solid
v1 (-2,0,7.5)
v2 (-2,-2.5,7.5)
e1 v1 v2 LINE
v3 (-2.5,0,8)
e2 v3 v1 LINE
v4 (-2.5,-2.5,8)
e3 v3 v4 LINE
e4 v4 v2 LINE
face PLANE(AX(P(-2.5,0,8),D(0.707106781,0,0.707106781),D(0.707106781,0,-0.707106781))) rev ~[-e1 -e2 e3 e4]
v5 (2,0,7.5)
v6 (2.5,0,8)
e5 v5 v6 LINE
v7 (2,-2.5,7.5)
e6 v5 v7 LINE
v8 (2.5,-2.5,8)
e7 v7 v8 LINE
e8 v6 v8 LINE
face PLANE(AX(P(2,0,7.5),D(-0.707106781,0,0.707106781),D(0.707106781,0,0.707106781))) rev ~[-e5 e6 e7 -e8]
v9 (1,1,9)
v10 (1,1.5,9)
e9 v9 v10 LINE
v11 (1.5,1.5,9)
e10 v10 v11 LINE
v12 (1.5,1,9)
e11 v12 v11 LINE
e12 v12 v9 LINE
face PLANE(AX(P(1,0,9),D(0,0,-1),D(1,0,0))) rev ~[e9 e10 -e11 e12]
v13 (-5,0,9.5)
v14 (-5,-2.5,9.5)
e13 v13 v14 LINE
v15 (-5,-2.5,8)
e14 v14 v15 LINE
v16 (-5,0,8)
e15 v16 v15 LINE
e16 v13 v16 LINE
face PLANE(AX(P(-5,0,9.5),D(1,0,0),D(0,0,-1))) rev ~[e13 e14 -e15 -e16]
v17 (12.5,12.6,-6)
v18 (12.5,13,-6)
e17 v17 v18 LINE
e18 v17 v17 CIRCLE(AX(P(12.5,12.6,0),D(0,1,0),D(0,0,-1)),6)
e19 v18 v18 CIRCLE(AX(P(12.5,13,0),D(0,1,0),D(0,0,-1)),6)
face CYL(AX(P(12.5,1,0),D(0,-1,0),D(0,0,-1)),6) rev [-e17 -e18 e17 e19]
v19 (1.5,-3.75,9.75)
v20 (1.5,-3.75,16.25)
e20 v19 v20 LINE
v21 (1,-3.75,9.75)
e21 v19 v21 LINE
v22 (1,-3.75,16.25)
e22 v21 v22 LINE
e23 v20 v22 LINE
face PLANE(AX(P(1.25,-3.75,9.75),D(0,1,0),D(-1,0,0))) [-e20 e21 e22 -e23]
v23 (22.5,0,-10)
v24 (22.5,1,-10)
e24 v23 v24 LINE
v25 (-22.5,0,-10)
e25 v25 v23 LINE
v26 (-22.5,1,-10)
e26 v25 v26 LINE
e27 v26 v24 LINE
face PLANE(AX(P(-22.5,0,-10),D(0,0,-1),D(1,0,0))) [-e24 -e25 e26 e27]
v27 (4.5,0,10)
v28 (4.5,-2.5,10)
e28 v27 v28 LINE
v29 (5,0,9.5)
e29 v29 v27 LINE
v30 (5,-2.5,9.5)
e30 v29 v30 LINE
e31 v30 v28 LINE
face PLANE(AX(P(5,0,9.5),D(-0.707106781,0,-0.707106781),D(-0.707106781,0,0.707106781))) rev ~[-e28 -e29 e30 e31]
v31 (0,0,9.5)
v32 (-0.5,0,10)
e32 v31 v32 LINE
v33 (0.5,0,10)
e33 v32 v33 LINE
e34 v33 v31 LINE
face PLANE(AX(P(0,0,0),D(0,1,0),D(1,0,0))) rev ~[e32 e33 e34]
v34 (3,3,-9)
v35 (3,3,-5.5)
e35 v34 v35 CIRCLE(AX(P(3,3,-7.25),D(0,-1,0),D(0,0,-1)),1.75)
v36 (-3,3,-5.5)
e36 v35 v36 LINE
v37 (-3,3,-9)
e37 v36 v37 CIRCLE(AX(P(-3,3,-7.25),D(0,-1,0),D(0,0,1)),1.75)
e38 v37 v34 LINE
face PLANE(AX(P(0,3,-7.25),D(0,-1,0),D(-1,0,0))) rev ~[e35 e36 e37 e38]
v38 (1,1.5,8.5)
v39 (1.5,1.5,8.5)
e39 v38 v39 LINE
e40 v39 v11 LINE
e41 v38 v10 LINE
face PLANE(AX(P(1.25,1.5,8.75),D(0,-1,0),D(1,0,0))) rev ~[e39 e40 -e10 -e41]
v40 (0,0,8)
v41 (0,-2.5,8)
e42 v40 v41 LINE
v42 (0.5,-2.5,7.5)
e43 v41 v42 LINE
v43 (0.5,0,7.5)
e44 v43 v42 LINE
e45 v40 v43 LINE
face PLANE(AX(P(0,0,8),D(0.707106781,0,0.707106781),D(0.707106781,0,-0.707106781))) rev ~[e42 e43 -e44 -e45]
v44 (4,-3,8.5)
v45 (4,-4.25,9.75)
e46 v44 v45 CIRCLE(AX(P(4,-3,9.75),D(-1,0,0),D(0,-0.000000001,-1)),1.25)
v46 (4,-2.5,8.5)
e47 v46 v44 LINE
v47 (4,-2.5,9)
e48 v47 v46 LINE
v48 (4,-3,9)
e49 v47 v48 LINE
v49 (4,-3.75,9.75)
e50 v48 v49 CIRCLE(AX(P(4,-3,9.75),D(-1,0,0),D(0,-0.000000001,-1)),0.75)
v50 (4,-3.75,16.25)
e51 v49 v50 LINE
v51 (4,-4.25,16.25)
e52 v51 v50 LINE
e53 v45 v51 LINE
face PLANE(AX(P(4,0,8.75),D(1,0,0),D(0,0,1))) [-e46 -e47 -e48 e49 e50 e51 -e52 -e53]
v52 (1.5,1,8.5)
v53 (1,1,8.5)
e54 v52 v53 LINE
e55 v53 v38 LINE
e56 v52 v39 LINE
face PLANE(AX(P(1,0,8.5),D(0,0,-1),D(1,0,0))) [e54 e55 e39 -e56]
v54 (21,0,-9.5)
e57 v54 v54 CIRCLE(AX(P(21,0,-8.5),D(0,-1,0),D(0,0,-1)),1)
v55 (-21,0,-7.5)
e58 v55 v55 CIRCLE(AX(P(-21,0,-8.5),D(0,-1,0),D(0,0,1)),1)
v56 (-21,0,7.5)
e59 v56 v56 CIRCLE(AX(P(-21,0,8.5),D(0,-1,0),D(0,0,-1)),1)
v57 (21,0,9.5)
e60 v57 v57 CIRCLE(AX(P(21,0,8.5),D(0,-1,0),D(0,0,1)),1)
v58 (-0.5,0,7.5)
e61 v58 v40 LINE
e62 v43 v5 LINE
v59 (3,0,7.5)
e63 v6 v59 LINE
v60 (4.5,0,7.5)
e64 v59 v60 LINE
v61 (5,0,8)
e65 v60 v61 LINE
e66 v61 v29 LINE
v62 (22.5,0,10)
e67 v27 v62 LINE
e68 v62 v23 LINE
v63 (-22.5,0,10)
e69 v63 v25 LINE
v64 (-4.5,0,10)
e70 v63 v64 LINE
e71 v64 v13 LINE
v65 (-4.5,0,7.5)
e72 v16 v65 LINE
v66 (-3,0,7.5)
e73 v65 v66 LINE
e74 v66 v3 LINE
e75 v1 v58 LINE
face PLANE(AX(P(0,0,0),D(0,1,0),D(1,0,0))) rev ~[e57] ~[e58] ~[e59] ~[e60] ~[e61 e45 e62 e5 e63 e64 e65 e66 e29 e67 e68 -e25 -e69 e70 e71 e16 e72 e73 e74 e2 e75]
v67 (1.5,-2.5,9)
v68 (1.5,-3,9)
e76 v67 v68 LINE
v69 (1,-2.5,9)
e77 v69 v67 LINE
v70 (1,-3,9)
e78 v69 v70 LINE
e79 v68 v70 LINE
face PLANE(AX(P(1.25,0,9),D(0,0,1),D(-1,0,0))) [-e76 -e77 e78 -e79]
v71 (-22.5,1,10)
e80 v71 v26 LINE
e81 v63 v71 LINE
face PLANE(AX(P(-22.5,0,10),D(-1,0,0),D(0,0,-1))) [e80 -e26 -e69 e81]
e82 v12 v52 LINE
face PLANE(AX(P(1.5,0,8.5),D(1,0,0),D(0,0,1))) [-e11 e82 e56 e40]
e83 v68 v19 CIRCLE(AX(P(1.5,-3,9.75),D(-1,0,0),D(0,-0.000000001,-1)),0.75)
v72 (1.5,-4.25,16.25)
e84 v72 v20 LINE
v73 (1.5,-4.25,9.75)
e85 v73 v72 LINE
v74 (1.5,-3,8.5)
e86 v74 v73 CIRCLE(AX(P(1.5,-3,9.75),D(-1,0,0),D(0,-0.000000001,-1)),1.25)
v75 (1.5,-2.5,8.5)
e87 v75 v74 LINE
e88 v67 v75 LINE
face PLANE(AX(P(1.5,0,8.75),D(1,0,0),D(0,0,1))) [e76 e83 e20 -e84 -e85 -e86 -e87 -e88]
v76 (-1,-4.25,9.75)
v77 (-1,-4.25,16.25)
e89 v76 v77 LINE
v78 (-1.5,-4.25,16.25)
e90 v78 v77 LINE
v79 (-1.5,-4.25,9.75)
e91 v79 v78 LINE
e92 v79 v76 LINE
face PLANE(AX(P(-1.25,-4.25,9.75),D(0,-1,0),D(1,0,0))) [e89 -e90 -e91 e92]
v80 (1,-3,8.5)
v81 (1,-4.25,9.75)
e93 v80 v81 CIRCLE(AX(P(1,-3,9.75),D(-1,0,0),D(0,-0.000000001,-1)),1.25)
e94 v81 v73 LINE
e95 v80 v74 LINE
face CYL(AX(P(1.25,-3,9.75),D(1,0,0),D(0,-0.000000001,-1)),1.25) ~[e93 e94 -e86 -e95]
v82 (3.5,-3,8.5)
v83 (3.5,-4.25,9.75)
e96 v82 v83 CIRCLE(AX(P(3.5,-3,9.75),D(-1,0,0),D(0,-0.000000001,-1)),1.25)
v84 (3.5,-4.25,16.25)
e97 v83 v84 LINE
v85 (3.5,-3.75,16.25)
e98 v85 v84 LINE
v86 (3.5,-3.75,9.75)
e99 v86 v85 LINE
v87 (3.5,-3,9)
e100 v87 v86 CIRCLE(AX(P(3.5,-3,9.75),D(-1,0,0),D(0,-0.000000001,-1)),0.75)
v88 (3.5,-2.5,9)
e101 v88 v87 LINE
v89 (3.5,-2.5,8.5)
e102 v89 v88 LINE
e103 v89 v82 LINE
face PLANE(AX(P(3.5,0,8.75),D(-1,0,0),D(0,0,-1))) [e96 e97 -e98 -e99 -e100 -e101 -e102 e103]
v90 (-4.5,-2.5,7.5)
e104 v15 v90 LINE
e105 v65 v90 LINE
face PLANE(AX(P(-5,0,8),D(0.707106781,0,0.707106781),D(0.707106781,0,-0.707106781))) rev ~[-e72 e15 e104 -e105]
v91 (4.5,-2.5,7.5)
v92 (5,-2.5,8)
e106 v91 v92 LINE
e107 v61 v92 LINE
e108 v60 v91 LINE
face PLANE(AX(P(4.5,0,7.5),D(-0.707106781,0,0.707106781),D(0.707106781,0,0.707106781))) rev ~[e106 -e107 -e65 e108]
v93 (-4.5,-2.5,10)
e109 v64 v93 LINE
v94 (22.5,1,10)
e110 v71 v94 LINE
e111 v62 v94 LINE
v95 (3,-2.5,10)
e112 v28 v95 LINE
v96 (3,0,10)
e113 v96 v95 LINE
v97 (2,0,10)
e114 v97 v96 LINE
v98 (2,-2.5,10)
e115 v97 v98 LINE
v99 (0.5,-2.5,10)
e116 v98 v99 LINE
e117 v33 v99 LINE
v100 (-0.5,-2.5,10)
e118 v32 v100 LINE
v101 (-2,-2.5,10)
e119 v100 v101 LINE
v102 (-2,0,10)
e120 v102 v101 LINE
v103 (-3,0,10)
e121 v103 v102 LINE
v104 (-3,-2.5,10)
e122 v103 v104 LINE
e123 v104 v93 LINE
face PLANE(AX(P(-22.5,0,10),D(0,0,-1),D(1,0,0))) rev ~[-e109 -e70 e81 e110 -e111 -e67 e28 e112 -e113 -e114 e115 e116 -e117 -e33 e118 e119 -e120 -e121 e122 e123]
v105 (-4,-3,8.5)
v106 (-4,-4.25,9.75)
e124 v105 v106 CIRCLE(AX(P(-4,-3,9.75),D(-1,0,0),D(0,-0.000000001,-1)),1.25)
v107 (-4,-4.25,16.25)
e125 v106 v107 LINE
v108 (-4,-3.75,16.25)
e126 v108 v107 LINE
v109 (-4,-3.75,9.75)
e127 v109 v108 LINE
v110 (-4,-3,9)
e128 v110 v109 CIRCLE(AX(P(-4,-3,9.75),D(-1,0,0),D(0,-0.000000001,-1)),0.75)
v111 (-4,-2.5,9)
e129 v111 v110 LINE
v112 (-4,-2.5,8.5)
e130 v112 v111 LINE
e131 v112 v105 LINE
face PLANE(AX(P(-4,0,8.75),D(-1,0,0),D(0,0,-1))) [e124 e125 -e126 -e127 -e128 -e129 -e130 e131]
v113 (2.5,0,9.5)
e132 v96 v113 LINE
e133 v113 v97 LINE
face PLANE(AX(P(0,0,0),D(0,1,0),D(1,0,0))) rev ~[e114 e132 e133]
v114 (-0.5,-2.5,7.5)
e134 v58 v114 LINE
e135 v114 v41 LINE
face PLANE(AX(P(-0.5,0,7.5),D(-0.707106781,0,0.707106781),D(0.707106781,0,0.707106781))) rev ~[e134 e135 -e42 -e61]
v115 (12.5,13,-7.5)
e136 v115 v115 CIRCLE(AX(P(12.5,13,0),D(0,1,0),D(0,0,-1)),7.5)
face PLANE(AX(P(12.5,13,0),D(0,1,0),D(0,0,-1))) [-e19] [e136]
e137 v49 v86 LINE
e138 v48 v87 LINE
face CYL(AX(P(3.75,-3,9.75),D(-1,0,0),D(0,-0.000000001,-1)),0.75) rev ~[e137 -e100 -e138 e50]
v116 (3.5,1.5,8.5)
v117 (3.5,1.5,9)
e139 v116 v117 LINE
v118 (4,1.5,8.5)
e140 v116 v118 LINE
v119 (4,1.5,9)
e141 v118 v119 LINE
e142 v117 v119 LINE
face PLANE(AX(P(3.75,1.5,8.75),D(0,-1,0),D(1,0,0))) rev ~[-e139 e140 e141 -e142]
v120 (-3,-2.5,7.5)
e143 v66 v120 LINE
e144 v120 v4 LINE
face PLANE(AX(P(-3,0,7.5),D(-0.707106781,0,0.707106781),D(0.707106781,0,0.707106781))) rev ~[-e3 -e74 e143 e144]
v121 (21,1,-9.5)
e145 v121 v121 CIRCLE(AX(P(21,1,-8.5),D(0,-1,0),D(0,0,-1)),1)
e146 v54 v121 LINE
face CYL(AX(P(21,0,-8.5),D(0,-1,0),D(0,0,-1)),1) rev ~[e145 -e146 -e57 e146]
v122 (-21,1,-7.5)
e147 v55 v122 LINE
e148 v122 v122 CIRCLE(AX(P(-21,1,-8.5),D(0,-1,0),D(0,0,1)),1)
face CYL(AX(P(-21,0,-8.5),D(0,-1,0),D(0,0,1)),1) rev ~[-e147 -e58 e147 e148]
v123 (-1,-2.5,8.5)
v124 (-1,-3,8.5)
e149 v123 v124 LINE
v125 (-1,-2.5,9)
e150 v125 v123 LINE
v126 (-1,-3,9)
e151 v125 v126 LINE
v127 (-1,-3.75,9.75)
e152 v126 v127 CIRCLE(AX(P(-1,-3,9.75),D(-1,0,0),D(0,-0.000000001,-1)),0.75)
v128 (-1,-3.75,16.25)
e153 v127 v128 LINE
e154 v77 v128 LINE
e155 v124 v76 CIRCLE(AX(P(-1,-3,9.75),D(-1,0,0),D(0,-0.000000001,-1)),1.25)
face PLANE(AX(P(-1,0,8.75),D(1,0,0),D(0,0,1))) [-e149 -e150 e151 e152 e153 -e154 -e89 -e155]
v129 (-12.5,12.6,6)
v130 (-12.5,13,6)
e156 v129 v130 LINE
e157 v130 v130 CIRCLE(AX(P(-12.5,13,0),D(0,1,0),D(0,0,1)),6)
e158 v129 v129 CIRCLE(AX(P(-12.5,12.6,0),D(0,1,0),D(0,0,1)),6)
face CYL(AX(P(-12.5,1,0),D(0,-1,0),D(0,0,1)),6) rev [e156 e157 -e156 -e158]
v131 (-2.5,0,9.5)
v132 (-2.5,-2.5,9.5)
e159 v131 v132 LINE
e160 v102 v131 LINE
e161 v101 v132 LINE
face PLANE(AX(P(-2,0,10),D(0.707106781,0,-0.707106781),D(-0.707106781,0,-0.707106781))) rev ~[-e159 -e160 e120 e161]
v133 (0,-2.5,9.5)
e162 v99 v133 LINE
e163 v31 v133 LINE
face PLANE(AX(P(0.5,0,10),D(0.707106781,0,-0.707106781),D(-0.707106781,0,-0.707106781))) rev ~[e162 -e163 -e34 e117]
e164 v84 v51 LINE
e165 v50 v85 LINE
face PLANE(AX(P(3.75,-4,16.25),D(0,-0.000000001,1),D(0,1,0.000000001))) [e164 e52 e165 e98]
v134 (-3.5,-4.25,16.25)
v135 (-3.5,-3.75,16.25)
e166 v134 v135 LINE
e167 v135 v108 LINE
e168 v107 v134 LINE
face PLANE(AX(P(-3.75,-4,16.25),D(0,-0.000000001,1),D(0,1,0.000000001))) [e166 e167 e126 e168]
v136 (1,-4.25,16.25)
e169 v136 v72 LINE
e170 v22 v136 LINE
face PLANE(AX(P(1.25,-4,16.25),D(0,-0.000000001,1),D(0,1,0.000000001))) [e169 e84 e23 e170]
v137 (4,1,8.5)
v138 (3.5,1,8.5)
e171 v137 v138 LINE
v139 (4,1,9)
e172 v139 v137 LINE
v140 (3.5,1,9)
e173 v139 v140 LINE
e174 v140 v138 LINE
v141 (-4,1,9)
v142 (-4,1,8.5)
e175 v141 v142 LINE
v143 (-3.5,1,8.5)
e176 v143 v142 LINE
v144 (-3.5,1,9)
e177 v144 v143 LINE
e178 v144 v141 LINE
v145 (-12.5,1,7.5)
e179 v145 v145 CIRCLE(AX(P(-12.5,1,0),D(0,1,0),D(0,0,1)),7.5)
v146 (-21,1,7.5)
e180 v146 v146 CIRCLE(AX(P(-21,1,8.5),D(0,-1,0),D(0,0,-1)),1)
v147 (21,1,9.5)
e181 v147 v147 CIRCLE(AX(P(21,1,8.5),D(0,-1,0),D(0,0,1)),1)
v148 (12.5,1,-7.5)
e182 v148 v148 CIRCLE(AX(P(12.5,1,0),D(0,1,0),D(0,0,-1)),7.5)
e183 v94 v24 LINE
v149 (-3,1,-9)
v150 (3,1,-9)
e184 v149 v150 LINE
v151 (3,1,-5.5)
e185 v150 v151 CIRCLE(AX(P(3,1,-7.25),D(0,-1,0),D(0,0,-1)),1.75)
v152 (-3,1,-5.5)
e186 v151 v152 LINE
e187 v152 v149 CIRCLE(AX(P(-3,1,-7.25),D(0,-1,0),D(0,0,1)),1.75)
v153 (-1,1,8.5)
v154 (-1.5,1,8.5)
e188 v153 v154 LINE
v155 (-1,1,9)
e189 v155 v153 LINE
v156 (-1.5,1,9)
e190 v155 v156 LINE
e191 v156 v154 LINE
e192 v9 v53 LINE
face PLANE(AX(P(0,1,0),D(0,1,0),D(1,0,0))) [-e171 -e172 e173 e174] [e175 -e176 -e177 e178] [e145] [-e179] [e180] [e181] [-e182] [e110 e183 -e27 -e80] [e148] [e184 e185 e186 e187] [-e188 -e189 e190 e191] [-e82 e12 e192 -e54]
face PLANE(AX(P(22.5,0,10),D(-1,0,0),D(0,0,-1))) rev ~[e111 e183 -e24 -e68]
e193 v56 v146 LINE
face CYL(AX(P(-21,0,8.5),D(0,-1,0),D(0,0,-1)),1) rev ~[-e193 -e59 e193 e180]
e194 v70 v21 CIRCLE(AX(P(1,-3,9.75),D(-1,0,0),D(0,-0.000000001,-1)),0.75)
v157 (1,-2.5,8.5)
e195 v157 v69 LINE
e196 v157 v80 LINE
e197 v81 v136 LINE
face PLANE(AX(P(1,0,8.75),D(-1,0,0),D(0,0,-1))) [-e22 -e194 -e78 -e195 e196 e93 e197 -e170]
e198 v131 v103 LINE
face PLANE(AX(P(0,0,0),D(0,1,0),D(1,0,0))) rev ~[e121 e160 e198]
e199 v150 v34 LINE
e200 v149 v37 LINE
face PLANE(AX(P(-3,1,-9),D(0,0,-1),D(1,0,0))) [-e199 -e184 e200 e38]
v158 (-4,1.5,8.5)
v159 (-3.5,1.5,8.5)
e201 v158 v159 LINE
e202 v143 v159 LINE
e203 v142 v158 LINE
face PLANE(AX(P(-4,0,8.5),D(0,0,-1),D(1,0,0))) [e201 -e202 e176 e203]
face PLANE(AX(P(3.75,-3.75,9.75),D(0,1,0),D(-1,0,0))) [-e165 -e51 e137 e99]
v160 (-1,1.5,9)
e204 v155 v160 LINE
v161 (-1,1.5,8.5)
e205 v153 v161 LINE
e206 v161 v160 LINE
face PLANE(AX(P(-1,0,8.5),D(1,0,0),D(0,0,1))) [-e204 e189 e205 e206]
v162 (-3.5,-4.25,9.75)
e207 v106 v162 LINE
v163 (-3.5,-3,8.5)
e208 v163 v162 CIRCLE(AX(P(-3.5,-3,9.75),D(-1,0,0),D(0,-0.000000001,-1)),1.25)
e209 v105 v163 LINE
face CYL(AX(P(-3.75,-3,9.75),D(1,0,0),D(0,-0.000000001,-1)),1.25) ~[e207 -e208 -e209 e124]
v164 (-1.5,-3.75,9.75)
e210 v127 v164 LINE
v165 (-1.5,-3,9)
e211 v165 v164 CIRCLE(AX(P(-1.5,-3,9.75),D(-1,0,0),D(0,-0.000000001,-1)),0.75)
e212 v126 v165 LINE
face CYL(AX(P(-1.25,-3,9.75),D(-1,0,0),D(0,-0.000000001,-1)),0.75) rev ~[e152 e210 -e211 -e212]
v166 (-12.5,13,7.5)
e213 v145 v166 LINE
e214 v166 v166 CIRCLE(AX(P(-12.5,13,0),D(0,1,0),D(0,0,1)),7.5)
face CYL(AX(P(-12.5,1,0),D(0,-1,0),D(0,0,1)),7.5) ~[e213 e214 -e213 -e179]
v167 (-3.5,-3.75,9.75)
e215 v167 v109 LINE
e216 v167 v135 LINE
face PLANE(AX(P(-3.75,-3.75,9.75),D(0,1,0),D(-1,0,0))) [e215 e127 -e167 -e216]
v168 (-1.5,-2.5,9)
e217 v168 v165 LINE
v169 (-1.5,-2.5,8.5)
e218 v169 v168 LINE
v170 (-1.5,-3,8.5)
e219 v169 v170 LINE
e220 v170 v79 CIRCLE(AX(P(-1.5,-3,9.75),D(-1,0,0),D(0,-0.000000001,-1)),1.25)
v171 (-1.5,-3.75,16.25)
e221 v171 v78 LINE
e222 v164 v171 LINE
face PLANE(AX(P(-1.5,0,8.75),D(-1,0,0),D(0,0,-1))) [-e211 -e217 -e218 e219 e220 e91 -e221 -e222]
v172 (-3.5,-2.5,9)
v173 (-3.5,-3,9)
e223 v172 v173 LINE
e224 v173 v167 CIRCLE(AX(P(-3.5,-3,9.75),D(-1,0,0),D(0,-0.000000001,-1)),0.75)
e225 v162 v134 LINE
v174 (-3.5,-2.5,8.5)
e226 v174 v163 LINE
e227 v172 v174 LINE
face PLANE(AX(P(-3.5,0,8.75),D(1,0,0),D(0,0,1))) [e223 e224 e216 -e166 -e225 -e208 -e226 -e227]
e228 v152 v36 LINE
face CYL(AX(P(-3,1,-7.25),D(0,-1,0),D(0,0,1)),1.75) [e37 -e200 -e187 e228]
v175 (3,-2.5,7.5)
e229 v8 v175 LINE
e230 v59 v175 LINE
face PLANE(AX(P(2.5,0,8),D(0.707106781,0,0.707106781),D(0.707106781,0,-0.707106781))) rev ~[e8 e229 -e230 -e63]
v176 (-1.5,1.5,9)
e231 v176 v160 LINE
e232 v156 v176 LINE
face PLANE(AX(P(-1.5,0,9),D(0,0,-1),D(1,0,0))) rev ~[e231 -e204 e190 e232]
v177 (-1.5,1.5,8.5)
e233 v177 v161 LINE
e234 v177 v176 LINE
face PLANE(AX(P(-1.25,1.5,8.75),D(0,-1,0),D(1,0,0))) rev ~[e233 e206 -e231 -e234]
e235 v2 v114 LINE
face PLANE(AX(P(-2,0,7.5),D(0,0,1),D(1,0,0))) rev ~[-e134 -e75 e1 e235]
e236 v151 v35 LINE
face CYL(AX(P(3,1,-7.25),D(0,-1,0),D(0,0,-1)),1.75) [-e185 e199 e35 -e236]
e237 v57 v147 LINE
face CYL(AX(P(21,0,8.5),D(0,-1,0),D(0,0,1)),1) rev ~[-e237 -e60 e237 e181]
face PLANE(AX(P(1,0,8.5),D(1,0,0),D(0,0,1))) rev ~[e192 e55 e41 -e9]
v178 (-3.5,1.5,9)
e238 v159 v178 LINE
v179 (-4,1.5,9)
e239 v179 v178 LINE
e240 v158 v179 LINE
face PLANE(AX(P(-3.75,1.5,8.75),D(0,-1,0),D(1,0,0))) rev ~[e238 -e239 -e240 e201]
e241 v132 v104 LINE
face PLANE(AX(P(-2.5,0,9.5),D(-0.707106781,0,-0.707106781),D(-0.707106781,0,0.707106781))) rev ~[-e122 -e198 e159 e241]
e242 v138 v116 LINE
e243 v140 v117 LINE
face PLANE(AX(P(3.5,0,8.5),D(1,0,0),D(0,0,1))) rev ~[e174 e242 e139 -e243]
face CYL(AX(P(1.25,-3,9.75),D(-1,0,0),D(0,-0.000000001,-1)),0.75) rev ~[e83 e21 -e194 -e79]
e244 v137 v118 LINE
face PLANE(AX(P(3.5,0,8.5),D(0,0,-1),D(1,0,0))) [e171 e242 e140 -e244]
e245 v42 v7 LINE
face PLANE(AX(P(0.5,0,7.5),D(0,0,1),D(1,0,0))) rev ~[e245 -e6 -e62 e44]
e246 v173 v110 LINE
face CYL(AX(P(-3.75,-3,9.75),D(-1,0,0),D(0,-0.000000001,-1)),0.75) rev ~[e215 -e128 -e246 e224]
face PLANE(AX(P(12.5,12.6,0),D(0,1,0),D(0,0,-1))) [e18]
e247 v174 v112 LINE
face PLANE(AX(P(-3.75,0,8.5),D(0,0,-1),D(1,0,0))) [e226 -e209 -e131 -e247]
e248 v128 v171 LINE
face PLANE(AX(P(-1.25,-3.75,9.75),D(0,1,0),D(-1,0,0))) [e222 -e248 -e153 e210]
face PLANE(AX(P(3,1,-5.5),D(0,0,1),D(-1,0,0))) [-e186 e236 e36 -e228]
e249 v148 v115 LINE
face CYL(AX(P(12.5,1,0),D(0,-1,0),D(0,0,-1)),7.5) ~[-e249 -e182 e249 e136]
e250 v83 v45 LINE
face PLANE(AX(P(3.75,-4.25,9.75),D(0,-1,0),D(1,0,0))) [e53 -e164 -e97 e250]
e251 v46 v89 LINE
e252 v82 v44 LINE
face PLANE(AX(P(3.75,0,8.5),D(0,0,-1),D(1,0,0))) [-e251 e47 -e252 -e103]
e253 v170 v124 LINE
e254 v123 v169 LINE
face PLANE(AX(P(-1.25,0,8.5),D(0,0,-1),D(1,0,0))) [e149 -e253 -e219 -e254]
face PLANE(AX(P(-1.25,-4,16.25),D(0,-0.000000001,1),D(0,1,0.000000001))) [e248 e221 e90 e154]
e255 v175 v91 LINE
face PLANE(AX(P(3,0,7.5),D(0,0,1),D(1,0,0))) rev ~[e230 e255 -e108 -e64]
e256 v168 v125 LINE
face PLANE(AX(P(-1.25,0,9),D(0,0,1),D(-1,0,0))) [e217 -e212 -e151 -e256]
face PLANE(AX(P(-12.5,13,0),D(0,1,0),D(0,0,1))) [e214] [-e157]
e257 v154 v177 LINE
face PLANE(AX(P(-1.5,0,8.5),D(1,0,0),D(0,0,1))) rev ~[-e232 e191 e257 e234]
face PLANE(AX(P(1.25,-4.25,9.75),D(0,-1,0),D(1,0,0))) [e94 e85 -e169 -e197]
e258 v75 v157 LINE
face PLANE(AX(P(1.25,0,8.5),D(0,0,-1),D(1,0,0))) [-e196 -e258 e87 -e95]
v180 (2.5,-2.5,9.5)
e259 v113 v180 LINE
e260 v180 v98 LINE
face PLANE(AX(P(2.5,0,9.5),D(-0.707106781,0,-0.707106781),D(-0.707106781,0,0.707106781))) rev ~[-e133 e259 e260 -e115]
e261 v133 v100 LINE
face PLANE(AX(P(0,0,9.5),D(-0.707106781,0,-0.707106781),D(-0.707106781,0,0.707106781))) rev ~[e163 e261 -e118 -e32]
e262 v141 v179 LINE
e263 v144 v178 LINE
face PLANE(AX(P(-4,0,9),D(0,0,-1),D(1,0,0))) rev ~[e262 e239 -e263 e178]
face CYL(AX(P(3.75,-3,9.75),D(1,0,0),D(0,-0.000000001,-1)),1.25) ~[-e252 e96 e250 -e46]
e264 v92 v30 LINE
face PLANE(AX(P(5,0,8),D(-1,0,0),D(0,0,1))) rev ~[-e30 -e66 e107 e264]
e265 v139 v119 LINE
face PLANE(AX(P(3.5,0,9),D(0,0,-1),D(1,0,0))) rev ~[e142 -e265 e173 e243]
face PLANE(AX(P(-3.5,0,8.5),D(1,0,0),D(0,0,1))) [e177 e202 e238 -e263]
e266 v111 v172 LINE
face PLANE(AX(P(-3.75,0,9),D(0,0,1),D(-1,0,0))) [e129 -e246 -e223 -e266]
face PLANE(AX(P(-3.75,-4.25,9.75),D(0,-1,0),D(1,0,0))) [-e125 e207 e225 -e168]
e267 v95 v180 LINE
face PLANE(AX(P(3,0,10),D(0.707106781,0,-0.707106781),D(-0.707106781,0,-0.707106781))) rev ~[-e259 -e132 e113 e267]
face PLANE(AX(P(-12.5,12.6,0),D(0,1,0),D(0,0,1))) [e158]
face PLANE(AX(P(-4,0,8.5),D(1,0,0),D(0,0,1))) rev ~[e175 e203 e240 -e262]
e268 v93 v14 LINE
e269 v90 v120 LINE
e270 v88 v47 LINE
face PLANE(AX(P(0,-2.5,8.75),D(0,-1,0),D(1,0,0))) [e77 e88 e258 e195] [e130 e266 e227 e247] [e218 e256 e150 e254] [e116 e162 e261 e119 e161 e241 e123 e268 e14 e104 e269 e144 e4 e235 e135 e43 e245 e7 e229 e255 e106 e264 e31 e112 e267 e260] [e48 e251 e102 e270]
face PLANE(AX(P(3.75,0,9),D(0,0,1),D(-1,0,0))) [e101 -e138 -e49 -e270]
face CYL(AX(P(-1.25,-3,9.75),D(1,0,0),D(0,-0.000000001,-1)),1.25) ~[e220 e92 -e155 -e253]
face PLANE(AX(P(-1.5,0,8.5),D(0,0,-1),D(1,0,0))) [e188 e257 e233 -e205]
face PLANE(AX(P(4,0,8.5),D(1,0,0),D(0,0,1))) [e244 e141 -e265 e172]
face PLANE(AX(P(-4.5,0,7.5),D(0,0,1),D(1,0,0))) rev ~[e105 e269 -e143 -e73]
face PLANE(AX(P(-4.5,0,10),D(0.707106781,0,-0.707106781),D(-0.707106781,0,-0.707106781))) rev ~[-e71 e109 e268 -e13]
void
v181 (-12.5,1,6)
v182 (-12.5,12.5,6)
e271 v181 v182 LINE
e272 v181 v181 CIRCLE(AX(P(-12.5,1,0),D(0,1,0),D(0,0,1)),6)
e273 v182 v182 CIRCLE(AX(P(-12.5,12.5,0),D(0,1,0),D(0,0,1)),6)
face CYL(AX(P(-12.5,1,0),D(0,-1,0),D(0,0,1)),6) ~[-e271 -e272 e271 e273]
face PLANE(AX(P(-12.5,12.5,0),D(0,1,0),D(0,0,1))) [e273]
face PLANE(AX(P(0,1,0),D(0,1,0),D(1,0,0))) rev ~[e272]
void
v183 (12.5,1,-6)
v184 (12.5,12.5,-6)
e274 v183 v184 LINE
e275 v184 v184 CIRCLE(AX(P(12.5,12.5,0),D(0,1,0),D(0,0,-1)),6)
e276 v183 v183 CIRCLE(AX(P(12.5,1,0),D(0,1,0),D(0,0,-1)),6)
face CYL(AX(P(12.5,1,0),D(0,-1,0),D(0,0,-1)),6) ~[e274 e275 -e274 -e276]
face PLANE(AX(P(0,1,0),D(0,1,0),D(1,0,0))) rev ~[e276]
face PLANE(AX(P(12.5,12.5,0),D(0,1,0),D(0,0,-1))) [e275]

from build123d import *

# Parameters (mm, degrees)
SKETCH1_W           = 45
SKETCH1_H           = 20
BOSS_EXTRUDE1_DEPTH = 1
SKETCH2_R           = 7.5
SKETCH2_R_2         = 6
BOSS_EXTRUDE2_DEPTH = 12
BOSS_EXTRUDE3_DEPTH = 2
BOSS_EXTRUDE4_START = -0.5
SKETCH4_R           = 6
BOSS_EXTRUDE4_DEPTH = 0.1
SKETCH9_W           = 0.5
SKETCH9_H           = 0.5
SKETCH9_2_W         = 0.5
SKETCH9_2_H         = 0.5
BOSS_EXTRUDE7_DEPTH = 1.5
LPATTERN5_COUNT     = 4
LPATTERN5_PITCH     = 2.5
BOSS_EXTRUDE6_DEPTH = 2.5
SKETCH12_R          = 1
CUT_EXTRUDE4_DEPTH  = 1.5


with BuildPart() as part:
    # Sketch1 → Boss-Extrude1 (new body)
    with BuildSketch(Plane(origin=(0, 0, 0), x_dir=(1, 0, 0), z_dir=(0, 1, 0))):
        Rectangle(SKETCH1_W, SKETCH1_H)
    extrude(amount=BOSS_EXTRUDE1_DEPTH)

    # Sketch2 → Boss-Extrude2 (add)
    # profile 1 of 2: a face of its own
    with BuildSketch(Plane(origin=(0, 1, 0), x_dir=(1, 0, 0), z_dir=(0, 1, 0))):
        with Locations(Location((-12.5, 0, 0), (0, 0, 270))):
            Circle(SKETCH2_R)
        with Locations(Location((-12.5, 0, 0), (0, 0, 270))):
            Circle(SKETCH2_R_2, mode=Mode.SUBTRACT)
    # profile 2 of 2: a face of its own
    with BuildSketch(Plane(origin=(0, 1, 0), x_dir=(1, 0, 0), z_dir=(0, 1, 0))):
        with Locations(Location((12.5, 0, 0), (0, 0, 90))):
            Circle(SKETCH2_R)
        with Locations(Location((12.5, 0, 0), (0, 0, 90))):
            Circle(SKETCH2_R_2, mode=Mode.SUBTRACT)
    extrude(amount=BOSS_EXTRUDE2_DEPTH)

    # Sketch3 → Boss-Extrude3 (add)
    with BuildSketch(Plane(origin=(0, 1, 0), x_dir=(1, 0, 0), z_dir=(0, 1, 0))):
        with BuildLine():
            Line((-3, 9), (3, 9))
            ThreePointArc((3, 9), (4.75, 7.25), (3, 5.5))
            Line((3, 5.5), (-3, 5.5))
            ThreePointArc((-3, 5.5), (-4.75, 7.25), (-3, 9))
        make_face()
    extrude(amount=BOSS_EXTRUDE3_DEPTH)

    # Sketch4 → Boss-Extrude4 (add)
    with BuildSketch(Plane(origin=(0, 13, 0), x_dir=(1, 0, 0), z_dir=(0, 1, 0)).offset(BOSS_EXTRUDE4_START)):
        with Locations(Location((-12.5, 0, 0), (0, 0, 270))):
            Circle(SKETCH4_R)
        with Locations(Location((12.5, 0, 0), (0, 0, 90))):
            Circle(SKETCH4_R)
    extrude(amount=BOSS_EXTRUDE4_DEPTH)

    # Sweep1: sweep along a path in Sketch8
    with BuildLine(Plane(origin=(3.75, 0, 0), x_dir=(0, 0, -1), z_dir=(1, 0, 0))) as sweep1_path:
        Line((-8.75, 0), (-8.75, -3))
        ThreePointArc((-8.75, -3), (-9.042893219, -3.707106781), (-9.75, -4))
        Line((-9.75, -4), (-16.25, -4))
    # Sketch9 → Sweep1 (sweep)
    with BuildSketch(Plane.XZ):
        with Locations((3.75, 8.75)):
            Rectangle(SKETCH9_W, SKETCH9_H)
    sweep1 = sweep(path=sweep1_path.line)

    # Sketch9<2> → Boss-Extrude7 (add)
    with BuildSketch(Plane.XZ):
        with Locations((3.75, 8.75)):
            Rectangle(SKETCH9_2_W, SKETCH9_2_H)
    boss_extrude7 = extrude(amount=-BOSS_EXTRUDE7_DEPTH)

    # LPattern5: Sweep1, Boss-Extrude7 ×4
    with Locations(*[(-i * LPATTERN5_PITCH, 0, 0) for i in range(1, LPATTERN5_COUNT)]):
        add(sweep1)
        add(boss_extrude7)

    # Sketch11 → Boss-Extrude6 (add)
    with BuildSketch(Plane.XZ):
        Polygon((3, 7.5), (4.5, 7.5), (5, 8), (5, 9.5), (4.5, 10), (3, 10), (2.5, 9.5), (2, 10), (0.5, 10), (0, 9.5), (-0.5, 10), (-2, 10), (-2.5, 9.5), (-3, 10), (-4.5, 10), (-5, 9.5), (-5, 8), (-4.5, 7.5), (-3, 7.5), (-2.5, 8), (-2, 7.5), (-0.5, 7.5), (0, 8), (0.5, 7.5), (2, 7.5), (2.5, 8), align=None)
    extrude(amount=BOSS_EXTRUDE6_DEPTH)

    # Sketch12 → Cut-Extrude4 (cut)
    with BuildSketch(Plane.XZ):
        with Locations(Location((-21, 8.5, 0), (0, 0, 270))):
            Circle(SKETCH12_R)
        with Locations(Location((-21, -8.5, 0), (0, 0, 90))):
            Circle(SKETCH12_R)
        with Locations(Location((21, -8.5, 0), (0, 0, 270))):
            Circle(SKETCH12_R)
        with Locations(Location((21, 8.5, 0), (0, 0, 90))):
            Circle(SKETCH12_R)
    extrude(amount=-CUT_EXTRUDE4_DEPTH, mode=Mode.SUBTRACT)


solid = part.part
